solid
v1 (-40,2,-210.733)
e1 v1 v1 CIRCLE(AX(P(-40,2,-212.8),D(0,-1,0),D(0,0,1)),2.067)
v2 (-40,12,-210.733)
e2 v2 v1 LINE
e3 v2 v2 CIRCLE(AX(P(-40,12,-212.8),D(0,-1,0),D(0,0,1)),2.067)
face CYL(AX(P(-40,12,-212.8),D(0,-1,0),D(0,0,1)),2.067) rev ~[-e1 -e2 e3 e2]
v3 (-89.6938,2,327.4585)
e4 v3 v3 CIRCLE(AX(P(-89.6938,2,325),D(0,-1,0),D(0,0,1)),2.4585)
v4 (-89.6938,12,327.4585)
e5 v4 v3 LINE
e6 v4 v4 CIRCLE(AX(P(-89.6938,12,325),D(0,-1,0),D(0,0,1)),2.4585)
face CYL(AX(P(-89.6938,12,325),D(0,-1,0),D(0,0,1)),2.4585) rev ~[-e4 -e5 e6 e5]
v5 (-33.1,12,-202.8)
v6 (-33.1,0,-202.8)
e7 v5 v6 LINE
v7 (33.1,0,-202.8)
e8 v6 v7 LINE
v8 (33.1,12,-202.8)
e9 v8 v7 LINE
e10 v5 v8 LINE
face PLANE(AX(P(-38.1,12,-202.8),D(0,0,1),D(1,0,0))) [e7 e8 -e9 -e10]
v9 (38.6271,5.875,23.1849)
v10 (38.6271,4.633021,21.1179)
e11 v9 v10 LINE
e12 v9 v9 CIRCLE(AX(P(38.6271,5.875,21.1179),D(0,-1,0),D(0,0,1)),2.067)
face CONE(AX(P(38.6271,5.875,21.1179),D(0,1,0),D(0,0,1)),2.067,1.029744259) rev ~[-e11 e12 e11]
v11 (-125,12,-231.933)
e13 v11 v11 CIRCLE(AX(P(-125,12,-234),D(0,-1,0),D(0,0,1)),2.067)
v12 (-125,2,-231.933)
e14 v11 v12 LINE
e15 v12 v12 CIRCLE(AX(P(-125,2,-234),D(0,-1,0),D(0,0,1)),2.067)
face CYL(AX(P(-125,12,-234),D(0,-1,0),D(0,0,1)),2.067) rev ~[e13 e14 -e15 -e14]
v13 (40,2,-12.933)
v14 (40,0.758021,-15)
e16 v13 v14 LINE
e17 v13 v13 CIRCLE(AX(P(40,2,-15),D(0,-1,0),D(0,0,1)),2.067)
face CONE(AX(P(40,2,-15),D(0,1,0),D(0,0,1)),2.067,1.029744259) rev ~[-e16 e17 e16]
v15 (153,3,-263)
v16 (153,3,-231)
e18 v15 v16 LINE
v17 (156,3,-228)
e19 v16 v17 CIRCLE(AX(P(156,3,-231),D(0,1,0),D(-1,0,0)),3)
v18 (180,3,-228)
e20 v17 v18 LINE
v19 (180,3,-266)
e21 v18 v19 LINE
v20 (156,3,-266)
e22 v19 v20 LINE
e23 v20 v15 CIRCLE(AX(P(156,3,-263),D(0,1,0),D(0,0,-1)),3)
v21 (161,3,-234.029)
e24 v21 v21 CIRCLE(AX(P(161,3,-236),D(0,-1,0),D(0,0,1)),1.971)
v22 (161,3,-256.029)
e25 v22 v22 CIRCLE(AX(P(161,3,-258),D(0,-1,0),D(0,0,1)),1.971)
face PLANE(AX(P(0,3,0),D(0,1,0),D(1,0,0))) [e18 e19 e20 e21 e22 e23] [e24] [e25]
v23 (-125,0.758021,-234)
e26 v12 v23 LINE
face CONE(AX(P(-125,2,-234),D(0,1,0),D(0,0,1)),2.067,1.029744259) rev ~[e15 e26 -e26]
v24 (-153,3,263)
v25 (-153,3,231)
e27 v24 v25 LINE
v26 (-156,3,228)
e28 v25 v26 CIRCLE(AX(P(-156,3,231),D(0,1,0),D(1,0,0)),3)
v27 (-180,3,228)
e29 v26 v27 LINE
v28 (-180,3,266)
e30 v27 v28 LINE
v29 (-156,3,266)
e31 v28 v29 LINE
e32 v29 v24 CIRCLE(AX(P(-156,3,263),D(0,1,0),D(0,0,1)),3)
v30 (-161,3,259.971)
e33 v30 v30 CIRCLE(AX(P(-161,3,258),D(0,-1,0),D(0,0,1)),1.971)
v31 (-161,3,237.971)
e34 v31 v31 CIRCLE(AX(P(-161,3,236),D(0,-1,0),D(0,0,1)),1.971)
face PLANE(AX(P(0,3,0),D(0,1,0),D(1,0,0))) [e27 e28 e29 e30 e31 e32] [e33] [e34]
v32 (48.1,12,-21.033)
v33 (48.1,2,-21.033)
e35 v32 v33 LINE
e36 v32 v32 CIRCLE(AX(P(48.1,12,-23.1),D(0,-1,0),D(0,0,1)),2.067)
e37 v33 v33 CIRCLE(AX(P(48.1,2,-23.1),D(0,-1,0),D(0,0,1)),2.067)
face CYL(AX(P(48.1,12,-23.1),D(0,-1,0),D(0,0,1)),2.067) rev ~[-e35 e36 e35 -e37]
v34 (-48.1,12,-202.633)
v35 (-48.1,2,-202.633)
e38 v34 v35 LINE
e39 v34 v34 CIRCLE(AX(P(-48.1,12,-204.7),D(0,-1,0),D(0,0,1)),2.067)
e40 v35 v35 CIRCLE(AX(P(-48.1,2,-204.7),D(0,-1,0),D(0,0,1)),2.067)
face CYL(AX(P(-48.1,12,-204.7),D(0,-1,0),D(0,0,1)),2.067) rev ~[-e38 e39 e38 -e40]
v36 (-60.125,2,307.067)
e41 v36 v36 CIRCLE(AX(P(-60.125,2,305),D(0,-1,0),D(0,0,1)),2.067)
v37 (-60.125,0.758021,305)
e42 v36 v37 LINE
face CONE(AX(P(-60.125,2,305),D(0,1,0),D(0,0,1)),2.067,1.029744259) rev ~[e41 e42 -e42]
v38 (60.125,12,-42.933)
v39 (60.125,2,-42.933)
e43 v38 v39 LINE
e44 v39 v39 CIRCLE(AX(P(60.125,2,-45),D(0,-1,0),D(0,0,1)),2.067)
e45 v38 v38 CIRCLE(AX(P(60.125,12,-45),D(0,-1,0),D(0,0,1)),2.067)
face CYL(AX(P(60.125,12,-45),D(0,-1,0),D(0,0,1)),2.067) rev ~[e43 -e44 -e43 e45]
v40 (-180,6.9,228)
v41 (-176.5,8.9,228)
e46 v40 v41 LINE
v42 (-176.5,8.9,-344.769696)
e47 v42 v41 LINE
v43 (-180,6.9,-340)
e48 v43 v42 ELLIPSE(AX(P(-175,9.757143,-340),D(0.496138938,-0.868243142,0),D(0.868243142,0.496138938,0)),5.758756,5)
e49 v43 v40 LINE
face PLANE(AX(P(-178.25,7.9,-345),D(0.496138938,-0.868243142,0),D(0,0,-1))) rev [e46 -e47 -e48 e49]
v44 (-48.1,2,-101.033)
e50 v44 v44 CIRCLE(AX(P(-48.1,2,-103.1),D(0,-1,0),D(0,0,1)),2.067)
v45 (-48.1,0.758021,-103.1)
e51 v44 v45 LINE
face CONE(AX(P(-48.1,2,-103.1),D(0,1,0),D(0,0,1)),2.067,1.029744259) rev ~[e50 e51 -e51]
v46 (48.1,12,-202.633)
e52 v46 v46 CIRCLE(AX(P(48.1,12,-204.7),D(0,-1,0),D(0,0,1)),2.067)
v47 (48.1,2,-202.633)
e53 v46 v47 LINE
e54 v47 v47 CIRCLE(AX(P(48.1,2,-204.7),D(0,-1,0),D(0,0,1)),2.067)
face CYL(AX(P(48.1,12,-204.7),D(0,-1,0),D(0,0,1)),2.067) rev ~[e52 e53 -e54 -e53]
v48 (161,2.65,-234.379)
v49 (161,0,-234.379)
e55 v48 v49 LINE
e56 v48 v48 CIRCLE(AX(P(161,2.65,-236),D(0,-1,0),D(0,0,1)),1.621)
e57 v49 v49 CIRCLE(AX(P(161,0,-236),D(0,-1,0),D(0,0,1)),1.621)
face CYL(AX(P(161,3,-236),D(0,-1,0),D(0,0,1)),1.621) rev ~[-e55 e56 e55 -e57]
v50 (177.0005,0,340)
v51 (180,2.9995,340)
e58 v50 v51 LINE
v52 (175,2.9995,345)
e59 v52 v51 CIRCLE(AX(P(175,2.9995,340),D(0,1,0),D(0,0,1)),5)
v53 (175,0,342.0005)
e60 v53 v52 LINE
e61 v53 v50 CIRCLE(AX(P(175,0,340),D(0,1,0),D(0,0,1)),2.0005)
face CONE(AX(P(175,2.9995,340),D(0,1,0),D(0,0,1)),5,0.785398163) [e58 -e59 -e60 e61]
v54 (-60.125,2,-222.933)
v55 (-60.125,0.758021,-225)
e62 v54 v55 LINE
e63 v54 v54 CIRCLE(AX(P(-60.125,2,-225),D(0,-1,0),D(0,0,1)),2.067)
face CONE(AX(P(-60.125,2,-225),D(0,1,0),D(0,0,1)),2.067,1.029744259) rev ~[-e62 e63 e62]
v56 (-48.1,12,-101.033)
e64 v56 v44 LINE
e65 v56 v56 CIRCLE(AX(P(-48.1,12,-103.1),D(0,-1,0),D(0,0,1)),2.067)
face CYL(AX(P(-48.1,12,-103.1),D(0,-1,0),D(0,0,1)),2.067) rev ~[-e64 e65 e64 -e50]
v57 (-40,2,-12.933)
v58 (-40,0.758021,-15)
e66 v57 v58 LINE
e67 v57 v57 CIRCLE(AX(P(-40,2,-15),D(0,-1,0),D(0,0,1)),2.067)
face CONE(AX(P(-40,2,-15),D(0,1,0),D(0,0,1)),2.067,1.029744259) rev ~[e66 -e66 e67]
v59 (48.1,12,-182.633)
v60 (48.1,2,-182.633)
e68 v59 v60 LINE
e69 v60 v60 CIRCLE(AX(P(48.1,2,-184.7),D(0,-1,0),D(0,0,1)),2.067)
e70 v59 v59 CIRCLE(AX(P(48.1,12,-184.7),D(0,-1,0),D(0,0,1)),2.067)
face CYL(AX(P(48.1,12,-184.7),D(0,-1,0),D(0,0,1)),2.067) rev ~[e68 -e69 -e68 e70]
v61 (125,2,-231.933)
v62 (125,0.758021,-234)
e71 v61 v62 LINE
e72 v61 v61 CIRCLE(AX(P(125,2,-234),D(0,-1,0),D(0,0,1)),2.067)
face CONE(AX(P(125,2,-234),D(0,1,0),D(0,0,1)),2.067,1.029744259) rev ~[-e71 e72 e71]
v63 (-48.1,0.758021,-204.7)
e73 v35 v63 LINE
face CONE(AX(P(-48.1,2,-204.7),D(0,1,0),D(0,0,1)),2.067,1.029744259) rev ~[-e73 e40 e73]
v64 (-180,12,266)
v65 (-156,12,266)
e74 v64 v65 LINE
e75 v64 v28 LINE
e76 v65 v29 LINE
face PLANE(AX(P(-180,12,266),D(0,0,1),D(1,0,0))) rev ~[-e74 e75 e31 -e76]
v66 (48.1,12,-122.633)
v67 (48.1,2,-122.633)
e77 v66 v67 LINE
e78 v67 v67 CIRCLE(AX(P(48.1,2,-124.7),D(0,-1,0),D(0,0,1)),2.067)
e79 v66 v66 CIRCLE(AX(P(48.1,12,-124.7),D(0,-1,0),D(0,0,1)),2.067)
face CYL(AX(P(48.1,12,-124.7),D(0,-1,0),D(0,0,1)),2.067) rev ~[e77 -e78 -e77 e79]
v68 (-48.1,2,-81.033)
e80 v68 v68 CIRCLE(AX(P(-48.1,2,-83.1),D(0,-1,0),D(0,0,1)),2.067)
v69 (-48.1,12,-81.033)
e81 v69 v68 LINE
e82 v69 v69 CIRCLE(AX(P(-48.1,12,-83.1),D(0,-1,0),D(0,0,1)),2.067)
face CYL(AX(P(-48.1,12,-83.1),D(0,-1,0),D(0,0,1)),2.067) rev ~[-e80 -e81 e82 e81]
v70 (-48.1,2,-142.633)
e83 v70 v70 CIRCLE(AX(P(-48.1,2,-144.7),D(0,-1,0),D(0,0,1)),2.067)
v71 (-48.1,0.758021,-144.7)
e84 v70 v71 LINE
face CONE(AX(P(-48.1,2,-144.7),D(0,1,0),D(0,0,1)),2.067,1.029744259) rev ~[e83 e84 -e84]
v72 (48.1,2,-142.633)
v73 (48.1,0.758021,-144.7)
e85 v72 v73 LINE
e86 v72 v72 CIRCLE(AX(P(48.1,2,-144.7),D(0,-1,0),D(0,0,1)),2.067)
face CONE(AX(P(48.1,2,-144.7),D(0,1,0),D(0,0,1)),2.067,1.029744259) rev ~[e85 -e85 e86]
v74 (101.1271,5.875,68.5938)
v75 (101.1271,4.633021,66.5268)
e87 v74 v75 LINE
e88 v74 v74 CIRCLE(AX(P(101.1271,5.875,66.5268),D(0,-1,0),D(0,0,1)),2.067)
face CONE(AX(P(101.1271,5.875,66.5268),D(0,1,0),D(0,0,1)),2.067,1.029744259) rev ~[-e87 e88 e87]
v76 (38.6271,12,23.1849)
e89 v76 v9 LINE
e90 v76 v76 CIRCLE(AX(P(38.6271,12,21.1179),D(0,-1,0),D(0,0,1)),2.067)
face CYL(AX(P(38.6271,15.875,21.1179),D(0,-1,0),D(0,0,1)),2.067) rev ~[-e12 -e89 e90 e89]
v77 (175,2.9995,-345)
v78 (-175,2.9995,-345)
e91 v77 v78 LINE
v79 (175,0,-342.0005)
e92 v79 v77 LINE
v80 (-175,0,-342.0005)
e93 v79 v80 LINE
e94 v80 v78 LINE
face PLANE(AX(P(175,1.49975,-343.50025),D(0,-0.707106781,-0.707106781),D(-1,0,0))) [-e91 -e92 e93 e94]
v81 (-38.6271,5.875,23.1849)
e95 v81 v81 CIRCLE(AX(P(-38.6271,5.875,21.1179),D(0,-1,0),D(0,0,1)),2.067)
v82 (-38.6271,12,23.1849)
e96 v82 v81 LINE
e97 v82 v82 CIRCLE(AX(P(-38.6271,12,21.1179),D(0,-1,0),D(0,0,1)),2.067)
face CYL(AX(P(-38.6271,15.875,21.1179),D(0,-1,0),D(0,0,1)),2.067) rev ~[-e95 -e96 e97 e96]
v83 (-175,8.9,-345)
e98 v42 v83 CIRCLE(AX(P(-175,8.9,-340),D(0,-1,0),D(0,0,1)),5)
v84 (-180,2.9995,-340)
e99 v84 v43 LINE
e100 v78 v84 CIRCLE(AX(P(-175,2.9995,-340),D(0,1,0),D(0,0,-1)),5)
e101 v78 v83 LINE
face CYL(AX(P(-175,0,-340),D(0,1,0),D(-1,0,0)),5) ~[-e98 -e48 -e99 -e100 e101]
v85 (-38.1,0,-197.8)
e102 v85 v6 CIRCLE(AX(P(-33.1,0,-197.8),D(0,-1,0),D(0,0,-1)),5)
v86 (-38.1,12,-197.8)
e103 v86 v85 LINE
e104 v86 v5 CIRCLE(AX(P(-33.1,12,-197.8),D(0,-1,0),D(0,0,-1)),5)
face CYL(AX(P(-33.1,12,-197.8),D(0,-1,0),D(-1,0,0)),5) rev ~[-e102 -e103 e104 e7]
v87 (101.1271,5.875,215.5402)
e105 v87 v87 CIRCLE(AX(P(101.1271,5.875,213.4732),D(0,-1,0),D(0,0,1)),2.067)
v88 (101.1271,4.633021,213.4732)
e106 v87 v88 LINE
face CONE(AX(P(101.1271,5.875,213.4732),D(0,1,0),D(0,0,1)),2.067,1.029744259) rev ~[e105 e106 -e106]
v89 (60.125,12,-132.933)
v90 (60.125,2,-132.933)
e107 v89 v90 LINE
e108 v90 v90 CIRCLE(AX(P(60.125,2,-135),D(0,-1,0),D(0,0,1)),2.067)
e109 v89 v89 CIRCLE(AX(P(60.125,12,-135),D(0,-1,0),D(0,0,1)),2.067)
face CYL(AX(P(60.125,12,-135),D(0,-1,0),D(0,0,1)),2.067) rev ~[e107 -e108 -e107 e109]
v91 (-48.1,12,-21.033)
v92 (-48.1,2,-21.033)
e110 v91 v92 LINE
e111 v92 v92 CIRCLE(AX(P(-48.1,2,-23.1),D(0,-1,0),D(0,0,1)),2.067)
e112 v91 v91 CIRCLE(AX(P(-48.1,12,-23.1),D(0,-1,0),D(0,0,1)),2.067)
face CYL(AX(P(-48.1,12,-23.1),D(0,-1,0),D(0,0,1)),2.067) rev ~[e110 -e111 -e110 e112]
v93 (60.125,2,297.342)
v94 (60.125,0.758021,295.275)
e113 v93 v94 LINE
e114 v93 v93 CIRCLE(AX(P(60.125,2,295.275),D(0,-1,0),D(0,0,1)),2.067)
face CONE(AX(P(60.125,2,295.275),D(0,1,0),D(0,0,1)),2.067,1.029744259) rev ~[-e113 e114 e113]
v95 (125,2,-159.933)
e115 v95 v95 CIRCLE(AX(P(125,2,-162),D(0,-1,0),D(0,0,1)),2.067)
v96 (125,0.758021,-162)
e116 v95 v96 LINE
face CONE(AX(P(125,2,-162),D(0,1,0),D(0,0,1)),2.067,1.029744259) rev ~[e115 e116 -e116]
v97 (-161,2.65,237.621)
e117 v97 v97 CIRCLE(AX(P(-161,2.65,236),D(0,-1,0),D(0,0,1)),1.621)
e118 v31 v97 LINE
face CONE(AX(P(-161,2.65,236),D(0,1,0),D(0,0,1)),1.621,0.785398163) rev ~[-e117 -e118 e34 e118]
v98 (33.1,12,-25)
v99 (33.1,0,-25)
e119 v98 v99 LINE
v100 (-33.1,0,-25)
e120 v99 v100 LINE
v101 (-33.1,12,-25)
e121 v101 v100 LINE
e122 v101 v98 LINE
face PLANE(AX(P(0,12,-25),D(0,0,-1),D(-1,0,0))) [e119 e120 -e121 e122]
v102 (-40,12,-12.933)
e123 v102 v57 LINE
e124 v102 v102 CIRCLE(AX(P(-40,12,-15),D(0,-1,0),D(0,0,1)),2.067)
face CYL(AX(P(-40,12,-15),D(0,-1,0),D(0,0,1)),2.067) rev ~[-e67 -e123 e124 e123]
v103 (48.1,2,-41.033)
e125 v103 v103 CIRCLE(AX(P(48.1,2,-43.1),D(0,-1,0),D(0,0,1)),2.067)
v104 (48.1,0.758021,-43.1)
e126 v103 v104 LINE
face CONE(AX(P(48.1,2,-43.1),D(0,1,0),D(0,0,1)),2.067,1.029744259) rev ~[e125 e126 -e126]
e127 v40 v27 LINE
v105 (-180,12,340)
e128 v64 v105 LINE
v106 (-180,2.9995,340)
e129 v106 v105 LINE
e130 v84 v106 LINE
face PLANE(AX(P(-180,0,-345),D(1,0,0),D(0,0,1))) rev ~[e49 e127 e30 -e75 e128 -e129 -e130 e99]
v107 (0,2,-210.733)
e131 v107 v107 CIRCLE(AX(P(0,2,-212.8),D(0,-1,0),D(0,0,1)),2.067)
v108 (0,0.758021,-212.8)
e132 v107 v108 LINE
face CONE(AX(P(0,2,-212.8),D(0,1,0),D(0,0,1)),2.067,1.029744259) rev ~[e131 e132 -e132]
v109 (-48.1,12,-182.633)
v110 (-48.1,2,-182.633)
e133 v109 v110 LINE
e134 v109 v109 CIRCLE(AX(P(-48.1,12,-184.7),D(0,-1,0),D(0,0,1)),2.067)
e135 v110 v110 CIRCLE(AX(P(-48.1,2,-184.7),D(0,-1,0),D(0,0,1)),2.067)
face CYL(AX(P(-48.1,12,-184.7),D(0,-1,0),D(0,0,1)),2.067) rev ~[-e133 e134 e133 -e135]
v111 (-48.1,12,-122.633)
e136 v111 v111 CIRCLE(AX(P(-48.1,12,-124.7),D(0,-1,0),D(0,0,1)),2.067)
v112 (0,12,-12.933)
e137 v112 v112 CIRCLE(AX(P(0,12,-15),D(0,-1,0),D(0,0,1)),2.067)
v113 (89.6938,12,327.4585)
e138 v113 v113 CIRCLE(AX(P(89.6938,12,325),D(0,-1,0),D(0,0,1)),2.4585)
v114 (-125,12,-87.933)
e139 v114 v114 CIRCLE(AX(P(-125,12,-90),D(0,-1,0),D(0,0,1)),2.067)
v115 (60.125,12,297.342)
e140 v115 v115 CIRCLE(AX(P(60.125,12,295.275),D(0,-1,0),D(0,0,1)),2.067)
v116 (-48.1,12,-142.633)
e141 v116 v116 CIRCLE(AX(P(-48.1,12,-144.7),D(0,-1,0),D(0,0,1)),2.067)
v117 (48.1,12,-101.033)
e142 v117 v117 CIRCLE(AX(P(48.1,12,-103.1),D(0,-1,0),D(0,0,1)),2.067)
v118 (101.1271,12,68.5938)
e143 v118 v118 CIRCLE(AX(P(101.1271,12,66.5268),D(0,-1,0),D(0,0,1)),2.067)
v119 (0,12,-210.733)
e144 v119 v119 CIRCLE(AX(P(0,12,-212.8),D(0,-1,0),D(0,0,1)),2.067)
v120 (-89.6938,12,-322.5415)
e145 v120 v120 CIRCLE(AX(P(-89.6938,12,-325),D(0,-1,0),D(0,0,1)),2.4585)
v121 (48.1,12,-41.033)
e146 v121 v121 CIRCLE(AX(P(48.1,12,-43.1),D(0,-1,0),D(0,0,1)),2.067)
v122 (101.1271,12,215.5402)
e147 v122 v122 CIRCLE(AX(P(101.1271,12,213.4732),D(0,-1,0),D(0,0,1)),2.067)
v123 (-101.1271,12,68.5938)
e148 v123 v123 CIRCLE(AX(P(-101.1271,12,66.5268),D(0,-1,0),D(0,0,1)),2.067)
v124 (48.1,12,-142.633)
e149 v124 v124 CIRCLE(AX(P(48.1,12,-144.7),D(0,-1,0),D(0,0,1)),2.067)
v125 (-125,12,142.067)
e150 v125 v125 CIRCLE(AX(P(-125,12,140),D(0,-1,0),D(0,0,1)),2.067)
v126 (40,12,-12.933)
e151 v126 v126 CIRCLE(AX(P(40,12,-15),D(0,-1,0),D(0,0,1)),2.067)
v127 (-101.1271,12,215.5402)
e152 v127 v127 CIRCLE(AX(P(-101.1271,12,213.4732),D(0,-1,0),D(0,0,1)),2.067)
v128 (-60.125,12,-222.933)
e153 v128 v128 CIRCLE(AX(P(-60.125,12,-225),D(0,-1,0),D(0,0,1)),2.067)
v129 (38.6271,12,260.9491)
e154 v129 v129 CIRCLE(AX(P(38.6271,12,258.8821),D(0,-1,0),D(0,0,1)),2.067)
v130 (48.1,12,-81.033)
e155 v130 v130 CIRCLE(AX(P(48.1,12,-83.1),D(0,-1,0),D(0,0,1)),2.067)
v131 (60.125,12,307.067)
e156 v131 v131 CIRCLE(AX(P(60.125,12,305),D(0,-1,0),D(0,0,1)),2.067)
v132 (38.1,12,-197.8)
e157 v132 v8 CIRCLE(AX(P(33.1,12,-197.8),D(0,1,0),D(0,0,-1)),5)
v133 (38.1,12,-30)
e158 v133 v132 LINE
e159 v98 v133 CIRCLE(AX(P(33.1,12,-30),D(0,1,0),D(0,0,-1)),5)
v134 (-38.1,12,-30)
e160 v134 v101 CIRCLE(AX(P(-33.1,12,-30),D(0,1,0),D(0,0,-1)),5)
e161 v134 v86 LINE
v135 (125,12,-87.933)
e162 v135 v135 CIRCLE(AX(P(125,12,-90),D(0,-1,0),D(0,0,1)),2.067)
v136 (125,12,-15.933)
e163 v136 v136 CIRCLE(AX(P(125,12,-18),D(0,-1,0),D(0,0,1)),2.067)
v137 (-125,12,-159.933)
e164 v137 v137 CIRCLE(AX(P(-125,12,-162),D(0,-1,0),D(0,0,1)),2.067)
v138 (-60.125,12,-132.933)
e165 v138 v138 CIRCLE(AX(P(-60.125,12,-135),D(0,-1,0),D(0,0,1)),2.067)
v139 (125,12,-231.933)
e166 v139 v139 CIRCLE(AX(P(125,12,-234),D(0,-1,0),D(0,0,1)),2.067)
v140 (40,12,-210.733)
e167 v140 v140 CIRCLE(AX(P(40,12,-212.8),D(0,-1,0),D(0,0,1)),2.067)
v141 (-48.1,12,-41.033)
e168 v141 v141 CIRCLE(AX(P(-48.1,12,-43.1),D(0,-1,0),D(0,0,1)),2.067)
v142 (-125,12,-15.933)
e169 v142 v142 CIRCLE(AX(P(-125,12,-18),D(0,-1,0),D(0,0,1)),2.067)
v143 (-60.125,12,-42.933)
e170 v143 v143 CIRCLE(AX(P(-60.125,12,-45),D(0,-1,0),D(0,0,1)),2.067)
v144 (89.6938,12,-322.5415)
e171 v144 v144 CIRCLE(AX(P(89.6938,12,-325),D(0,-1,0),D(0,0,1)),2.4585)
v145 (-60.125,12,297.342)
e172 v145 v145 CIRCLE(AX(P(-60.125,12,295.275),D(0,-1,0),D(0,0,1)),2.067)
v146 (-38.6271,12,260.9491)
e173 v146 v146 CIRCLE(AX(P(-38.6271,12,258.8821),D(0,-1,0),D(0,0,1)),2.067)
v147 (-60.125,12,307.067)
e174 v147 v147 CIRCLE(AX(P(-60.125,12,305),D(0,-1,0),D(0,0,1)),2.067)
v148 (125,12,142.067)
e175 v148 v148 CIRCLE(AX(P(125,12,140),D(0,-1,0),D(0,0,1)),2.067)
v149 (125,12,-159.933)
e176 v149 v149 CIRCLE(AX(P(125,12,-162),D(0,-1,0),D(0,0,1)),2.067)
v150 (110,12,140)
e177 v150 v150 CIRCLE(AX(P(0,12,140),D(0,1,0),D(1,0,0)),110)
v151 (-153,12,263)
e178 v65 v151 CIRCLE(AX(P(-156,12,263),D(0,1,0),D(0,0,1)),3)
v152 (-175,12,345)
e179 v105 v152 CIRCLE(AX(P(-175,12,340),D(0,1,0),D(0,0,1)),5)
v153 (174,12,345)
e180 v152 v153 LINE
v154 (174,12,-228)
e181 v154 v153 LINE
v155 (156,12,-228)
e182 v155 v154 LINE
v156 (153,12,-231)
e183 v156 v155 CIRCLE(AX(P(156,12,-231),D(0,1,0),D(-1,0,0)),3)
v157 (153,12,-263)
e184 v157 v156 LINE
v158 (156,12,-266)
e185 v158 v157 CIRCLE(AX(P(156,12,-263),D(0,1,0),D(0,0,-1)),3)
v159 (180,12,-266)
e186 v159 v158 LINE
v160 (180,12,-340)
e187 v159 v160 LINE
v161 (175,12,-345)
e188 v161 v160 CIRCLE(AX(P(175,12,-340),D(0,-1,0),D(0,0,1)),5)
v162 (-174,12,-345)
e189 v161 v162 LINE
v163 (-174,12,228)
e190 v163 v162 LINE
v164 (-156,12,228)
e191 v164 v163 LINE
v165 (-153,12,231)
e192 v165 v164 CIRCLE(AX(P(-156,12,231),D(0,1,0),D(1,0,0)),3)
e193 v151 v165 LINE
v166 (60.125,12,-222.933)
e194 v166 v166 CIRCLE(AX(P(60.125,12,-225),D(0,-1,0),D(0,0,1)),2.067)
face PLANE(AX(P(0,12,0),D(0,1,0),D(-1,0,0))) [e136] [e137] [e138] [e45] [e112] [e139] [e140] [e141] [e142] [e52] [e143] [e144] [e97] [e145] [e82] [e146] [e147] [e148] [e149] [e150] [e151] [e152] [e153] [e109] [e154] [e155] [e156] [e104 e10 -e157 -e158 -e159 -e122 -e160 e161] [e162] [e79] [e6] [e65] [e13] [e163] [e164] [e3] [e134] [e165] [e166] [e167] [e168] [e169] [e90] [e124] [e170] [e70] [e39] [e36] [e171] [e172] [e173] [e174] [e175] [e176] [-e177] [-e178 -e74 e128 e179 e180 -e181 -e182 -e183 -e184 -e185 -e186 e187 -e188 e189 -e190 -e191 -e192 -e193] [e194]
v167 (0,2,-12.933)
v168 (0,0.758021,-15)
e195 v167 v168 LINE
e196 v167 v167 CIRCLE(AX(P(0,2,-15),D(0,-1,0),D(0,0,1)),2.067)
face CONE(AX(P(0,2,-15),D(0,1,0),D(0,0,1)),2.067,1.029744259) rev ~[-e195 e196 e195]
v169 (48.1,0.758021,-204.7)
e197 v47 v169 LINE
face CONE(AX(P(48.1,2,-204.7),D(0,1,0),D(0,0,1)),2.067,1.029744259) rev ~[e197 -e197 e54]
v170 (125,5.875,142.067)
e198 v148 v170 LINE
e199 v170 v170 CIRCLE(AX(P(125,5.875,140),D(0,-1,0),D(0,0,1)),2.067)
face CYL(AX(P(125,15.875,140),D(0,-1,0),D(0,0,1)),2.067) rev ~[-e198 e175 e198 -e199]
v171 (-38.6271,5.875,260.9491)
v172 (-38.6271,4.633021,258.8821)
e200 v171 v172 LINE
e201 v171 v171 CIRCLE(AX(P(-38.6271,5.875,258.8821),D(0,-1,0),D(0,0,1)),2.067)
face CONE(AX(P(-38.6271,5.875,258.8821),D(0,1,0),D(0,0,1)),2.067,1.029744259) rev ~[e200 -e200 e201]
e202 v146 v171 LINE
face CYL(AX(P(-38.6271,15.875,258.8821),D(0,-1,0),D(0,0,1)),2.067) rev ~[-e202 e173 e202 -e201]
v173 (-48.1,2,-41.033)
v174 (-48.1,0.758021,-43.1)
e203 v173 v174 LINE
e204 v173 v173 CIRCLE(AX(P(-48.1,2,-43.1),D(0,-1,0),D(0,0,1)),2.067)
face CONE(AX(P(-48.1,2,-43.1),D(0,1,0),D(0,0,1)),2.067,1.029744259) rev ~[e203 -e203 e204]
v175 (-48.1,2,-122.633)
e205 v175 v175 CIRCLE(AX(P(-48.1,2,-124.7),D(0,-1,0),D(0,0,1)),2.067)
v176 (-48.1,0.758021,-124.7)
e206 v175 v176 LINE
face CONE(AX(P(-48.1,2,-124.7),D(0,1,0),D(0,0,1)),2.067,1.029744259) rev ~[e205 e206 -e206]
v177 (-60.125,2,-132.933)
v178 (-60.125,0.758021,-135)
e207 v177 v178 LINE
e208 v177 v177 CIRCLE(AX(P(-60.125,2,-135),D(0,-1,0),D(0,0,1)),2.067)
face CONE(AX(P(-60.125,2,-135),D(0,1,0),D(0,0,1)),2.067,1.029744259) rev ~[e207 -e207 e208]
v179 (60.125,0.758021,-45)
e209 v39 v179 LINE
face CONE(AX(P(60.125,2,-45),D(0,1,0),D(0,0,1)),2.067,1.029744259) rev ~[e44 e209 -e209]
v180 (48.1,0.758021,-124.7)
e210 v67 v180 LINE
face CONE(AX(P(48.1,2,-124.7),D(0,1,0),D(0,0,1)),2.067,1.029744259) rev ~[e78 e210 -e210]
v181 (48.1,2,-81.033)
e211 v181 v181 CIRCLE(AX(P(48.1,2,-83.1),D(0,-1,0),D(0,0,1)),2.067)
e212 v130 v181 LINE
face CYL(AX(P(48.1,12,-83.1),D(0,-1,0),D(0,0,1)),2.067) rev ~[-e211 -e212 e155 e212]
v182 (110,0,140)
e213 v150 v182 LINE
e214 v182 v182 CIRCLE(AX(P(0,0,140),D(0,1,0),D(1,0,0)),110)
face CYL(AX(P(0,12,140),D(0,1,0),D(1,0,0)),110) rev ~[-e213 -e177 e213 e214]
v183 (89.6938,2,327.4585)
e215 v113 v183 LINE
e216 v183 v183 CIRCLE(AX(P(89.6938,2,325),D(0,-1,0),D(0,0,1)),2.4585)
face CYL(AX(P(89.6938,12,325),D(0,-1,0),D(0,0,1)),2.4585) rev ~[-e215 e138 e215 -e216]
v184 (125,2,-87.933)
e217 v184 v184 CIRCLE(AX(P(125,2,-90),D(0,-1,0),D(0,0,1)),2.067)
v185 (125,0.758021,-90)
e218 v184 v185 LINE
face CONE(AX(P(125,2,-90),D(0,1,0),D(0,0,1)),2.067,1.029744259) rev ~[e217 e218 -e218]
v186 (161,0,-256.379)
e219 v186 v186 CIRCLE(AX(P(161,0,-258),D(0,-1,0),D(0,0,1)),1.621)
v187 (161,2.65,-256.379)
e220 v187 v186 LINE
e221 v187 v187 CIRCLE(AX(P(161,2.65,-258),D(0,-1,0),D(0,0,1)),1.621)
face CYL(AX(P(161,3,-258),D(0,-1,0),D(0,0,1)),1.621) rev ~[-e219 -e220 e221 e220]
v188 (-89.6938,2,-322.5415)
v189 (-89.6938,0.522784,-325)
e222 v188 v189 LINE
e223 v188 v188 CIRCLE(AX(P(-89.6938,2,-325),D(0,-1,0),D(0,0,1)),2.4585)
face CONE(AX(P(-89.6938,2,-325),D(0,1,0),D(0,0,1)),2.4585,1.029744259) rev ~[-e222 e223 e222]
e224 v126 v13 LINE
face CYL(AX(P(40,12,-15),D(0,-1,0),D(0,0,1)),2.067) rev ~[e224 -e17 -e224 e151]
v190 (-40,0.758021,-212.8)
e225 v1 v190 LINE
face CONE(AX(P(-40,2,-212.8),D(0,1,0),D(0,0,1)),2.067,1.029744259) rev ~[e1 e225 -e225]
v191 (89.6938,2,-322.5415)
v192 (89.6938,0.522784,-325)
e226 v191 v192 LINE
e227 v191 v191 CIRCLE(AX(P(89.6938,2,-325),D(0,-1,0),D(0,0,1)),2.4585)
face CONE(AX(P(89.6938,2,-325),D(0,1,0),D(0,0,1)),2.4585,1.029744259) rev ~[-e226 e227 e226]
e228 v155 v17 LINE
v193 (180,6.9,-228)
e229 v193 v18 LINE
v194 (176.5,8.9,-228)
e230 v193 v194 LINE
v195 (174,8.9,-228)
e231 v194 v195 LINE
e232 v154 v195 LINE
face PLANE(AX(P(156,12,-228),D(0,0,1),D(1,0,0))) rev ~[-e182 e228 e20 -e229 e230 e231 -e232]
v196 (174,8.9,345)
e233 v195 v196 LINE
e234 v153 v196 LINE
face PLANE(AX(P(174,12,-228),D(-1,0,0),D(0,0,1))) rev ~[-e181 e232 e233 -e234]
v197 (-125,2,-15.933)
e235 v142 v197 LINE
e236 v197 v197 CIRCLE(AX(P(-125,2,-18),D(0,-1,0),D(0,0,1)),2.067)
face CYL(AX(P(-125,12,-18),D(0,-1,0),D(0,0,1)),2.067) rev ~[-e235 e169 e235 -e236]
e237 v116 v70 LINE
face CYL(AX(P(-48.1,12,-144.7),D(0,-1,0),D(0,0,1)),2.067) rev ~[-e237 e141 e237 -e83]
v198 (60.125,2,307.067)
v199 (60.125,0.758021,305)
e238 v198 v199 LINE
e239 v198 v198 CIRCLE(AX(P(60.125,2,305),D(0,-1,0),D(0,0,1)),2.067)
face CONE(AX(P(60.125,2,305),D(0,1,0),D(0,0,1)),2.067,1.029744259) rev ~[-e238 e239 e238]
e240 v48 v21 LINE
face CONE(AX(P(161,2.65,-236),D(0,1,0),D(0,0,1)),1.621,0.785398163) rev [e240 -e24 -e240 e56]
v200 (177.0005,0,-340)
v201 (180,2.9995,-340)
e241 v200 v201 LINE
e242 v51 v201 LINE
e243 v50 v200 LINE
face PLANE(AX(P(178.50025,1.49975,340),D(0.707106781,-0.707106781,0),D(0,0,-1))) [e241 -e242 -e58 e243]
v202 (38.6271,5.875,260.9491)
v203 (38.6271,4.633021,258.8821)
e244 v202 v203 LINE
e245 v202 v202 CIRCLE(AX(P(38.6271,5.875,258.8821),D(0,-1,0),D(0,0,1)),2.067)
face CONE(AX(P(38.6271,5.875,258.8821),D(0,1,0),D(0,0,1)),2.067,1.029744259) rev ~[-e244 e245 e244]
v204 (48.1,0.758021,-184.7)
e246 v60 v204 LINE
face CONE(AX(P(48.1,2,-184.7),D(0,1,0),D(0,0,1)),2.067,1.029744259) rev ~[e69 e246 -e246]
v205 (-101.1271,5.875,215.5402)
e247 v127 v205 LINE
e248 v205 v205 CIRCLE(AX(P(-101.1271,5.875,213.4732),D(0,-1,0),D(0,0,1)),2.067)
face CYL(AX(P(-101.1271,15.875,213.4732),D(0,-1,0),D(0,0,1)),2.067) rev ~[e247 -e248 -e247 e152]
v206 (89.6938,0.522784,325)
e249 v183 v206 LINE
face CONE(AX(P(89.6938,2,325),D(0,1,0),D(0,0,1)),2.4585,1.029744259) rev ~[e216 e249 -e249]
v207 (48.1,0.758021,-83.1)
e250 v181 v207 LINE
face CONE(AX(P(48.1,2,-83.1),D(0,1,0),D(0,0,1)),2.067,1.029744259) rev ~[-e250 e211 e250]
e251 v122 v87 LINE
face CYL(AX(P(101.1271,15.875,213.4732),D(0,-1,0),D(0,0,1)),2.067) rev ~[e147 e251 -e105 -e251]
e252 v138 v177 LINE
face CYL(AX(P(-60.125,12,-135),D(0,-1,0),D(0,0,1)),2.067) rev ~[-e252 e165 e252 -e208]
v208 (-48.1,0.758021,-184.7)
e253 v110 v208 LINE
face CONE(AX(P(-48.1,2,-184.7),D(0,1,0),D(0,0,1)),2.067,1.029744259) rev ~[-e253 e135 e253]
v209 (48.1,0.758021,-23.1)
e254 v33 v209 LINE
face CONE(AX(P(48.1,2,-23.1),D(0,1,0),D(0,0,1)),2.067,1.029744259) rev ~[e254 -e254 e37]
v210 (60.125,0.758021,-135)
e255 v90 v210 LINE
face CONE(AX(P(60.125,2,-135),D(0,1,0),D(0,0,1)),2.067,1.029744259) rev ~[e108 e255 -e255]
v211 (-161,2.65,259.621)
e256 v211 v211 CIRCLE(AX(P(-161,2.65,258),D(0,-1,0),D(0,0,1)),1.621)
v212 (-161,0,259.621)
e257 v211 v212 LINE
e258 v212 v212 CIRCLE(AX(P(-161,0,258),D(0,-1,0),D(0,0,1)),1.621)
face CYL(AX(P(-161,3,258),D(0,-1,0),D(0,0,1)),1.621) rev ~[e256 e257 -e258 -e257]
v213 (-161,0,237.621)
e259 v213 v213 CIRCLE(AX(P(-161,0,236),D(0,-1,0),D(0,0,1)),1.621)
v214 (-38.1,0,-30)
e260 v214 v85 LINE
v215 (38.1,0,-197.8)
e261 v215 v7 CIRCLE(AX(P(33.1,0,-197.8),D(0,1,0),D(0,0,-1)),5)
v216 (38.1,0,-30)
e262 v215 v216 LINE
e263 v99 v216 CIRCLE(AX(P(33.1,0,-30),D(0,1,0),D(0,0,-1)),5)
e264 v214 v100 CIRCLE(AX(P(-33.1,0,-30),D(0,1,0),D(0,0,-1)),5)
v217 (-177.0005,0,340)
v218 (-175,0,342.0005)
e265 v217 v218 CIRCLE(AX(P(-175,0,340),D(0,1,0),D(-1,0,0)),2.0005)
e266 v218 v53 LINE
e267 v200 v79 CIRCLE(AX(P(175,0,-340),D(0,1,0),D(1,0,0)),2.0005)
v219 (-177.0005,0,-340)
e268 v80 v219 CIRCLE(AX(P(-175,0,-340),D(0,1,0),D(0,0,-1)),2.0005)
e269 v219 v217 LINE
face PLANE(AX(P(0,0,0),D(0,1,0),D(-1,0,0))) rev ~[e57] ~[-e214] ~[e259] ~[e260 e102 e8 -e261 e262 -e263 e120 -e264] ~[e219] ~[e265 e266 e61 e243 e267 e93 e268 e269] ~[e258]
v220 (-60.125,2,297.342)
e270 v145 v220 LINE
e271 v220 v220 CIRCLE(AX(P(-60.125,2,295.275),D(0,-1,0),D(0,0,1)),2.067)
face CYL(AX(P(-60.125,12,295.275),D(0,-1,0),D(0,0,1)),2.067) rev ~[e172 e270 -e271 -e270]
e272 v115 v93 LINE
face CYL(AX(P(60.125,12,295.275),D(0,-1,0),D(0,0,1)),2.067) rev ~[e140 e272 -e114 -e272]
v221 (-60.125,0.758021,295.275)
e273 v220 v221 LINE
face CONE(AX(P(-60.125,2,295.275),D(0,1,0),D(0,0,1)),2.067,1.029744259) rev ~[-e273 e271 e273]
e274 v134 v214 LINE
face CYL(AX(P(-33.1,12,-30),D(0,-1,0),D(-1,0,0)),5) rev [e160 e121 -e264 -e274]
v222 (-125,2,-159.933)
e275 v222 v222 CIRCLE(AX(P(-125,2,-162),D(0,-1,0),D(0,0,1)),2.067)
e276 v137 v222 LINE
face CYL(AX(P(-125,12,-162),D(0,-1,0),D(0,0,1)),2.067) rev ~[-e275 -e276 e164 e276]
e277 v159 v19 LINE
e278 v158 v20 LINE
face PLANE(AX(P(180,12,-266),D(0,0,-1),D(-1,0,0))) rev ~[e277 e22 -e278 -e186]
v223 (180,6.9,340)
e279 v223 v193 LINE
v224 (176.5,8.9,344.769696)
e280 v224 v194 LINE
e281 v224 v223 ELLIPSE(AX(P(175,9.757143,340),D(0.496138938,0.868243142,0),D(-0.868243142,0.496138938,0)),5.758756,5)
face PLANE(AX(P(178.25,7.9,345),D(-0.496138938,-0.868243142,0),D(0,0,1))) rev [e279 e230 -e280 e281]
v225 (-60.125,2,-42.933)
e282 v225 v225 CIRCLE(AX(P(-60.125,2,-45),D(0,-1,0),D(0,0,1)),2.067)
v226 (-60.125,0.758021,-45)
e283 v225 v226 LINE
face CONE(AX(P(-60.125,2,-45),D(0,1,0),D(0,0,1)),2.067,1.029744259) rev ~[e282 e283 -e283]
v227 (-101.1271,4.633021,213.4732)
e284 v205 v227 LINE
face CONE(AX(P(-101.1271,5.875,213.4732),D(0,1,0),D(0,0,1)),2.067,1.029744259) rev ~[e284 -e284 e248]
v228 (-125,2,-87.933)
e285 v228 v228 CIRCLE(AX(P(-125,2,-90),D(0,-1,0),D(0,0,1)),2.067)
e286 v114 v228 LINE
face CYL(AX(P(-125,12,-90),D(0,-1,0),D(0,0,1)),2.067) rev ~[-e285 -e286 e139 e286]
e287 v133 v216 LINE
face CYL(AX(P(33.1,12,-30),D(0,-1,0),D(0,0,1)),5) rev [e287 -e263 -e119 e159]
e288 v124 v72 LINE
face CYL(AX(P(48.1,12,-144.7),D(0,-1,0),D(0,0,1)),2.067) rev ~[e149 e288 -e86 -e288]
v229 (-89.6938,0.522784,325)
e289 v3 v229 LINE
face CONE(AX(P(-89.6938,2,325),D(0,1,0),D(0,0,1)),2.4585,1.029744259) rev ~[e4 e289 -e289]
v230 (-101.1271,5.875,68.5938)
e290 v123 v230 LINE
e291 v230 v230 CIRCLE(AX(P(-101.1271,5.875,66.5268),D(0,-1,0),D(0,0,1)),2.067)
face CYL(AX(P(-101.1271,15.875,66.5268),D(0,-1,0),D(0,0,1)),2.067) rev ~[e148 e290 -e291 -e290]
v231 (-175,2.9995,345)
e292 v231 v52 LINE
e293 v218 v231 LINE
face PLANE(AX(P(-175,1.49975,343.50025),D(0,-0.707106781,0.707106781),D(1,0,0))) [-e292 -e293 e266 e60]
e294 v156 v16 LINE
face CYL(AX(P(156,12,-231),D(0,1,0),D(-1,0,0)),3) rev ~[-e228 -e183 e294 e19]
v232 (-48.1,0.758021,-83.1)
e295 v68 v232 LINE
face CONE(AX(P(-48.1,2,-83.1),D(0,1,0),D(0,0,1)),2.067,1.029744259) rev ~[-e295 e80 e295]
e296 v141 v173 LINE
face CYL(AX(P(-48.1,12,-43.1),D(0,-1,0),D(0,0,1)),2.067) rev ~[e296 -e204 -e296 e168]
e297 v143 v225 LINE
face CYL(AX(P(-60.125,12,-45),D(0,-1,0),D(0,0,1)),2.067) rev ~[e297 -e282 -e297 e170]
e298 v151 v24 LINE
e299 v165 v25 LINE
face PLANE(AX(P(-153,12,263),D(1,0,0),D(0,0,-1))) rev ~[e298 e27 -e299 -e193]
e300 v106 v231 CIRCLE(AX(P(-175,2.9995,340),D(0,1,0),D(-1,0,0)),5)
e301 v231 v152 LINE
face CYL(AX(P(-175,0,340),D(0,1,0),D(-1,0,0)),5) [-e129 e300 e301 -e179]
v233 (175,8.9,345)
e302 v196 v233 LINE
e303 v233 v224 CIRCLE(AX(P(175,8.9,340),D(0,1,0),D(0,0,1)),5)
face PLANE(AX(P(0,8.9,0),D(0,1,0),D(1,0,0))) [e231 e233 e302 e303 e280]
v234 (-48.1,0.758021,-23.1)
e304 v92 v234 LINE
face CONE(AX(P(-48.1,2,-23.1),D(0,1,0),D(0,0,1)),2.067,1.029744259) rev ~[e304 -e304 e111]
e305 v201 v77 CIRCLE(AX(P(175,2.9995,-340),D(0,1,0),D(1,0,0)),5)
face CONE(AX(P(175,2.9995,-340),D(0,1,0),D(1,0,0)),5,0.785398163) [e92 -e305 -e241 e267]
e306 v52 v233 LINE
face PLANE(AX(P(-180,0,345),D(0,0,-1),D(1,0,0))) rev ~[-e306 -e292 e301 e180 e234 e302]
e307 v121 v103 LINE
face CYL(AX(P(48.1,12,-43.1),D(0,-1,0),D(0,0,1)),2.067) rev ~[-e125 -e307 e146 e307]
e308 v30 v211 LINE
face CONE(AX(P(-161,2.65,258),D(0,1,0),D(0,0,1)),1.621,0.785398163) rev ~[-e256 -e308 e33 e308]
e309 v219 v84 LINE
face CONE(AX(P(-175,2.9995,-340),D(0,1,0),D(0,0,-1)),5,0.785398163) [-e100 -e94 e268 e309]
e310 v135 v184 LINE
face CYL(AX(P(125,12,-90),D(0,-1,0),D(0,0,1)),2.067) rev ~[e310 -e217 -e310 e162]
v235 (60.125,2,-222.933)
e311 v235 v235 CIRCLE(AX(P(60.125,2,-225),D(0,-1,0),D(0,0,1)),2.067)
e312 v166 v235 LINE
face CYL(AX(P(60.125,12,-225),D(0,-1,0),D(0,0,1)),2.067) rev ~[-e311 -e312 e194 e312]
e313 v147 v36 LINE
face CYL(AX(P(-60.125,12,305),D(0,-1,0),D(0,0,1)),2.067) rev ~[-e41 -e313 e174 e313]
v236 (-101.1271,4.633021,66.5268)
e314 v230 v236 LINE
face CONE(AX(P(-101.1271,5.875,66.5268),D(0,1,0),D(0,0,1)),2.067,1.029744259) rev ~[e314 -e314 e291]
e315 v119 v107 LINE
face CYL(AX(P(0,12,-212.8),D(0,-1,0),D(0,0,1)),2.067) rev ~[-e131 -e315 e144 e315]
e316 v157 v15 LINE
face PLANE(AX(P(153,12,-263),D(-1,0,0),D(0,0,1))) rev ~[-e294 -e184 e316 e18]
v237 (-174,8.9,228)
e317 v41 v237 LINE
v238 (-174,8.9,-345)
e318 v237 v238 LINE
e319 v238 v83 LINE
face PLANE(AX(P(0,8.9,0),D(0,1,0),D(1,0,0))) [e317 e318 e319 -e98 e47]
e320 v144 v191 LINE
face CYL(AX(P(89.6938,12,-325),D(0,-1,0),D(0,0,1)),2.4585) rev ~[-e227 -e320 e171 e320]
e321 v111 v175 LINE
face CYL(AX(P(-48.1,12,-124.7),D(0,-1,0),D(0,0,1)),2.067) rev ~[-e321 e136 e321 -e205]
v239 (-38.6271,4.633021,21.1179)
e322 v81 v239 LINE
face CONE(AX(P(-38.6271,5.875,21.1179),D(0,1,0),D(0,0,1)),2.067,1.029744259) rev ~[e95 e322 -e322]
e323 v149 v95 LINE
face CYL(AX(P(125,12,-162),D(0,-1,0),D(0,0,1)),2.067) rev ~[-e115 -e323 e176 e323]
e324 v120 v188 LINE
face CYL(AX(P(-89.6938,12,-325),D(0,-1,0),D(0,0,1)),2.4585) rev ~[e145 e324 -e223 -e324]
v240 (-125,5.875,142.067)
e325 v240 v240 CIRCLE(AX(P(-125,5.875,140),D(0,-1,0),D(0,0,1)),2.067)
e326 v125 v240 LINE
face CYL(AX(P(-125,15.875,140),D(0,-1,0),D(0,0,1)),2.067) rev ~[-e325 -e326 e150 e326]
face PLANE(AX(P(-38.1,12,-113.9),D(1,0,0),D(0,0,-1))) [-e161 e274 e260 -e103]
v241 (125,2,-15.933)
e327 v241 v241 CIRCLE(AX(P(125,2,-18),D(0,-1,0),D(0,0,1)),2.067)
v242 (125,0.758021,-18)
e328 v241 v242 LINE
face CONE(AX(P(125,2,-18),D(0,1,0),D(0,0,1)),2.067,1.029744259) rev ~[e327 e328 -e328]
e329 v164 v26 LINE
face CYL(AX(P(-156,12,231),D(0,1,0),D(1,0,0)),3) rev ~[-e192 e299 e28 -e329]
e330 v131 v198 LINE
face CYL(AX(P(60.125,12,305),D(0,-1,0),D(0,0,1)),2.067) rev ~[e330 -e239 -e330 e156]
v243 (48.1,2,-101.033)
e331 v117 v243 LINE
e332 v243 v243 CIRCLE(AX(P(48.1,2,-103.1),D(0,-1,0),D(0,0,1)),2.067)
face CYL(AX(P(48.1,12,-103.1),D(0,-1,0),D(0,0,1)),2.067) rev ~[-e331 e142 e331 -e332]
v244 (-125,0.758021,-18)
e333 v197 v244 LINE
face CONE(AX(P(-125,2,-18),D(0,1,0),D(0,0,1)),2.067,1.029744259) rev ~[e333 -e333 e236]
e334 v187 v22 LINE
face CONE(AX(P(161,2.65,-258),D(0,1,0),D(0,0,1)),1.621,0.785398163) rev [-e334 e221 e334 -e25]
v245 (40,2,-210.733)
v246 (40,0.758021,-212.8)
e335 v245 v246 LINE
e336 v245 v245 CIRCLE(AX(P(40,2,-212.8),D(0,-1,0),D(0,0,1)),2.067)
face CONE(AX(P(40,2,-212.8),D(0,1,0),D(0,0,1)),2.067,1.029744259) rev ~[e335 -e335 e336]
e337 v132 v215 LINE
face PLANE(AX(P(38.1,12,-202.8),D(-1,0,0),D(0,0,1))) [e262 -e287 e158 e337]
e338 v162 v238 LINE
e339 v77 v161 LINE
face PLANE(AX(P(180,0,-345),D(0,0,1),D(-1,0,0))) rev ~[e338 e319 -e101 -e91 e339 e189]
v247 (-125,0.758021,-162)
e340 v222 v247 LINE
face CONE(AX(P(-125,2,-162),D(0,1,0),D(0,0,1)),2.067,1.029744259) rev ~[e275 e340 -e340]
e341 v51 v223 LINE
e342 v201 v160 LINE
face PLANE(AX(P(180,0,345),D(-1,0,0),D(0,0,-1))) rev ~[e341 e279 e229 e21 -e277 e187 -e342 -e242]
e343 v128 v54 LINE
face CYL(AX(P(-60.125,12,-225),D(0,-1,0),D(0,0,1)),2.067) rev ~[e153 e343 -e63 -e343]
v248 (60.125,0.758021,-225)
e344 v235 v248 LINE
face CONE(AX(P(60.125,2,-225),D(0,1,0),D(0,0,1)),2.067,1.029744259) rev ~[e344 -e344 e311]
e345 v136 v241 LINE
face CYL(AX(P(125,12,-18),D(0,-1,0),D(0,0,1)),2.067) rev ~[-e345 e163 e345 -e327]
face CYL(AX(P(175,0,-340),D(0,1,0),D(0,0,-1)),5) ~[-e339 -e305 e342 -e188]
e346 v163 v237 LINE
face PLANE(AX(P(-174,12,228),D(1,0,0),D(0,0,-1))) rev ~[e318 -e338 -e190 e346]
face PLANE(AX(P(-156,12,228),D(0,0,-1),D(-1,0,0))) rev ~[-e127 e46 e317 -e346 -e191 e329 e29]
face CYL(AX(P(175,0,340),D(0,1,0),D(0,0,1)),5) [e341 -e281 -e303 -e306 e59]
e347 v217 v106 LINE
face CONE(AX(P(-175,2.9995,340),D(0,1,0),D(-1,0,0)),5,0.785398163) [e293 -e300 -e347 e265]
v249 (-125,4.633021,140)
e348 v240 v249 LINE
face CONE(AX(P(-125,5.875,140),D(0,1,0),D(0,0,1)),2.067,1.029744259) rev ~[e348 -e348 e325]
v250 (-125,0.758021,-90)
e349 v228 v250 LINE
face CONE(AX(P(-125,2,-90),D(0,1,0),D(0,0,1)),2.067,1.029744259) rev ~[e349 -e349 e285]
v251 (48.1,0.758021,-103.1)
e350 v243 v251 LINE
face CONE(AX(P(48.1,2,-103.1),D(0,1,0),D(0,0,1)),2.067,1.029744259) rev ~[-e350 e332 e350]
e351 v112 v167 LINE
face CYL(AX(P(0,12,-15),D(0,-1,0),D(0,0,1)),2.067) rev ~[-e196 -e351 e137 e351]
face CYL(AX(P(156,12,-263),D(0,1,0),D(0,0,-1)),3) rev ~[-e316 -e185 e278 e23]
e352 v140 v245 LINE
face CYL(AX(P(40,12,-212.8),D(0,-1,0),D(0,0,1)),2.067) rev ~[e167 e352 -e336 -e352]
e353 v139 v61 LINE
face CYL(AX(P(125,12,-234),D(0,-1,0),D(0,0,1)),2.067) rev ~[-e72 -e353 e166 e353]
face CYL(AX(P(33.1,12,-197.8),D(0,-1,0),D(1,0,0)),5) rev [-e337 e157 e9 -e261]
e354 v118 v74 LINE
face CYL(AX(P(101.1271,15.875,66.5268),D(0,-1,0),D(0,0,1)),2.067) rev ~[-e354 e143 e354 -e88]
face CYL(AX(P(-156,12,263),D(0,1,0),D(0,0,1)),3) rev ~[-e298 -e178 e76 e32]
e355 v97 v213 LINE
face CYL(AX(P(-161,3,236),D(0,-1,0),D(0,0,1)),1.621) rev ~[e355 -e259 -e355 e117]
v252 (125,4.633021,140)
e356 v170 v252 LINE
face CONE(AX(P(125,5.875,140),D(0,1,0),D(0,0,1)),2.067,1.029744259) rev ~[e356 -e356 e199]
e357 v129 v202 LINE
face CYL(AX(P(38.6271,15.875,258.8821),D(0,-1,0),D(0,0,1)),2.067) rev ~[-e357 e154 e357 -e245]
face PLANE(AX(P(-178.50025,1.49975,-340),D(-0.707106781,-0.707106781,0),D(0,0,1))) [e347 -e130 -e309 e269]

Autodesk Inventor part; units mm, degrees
ref_plane "YZ Plane" through (0, 0, 0) normal (1, 0, 0) x (0, 1, 0)
sketch "Sketch1" plane through (0, 0, 0) normal (0, 1, 0) x (-1, 0, 0)
  line L0 (180, 345) -> (-180, 345)
  line L1 (-180, 345) -> (-180, -345)
  line L2 (-180, -345) -> (180, -345)
  line L3 (180, -345) -> (180, 345)
  line L4 (180, 345) -> (-180, -345) construction
  line L5 (-180, 345) -> (180, -345) construction
  point P0 (0, 0)
  dimension "d0" = 360
  dimension "d1" = 690
extrude "Extrusion1" add sketch "Sketch1" along normal blind 12
sketch "Sketch2" plane through (0, 12, 0) normal (0, 1, 0) x (1, 0, 0)
  circle A0 centre (0, -140) radius 110
  line L0 (-180, -345) -> (180, -345) projected
  circle A1 centre (0, -140) radius 135
  point P0 (0, 0)
  dimension "d4" = 205
  dimension "d5" = 220
  dimension "d8" = 270
extrude "Extrusion2" cut sketch "Sketch2" against normal through all contours A0
ref_plane "Work Plane1" through (0, 0, 150) normal (0, 0, 1) x (1, 0, 0)
sketch "Sketch6" plane through (0, 12, 0) normal (0, 1, 0) x (1, 0, 0)
  line L0 (89.6938, -325) -> (-89.6938, -325)
  line L1 (-89.6938, -325) -> (-89.6938, 325)
  line L2 (-89.6938, 325) -> (89.6938, 325)
  line L3 (89.6938, 325) -> (89.6938, -325)
  line L4 (89.6938, -325) -> (-89.6938, 325) construction
  line L5 (-89.6938, -325) -> (89.6938, 325) construction
  point P0 (0, 0)
  dimension "d55" = 179.3875
  dimension "d56" = 650
hole "Hole3" at (89.6938, 12, 325) at (-89.6938, 12, 325) at (-89.6938, 12, -325) at (89.6938, 12, -325) direction (0, -1, 0) diameter 4.917 depth 10 tip angle 118 thread size "M6x1" class "6H" standard "ANSI Metric M Profile"
sketch "Sketch7" plane through (0, 12, 0) normal (0, 1, 0) x (1, 0, 0)
  circle A0 centre (0, -140) radius 110 projected
  circle A1 centre (0, -140) radius 131.5
  circle A2 centre (0, -140) radius 135
  point P0 (0, 0)
  dimension "d64" = 263
  dimension "d65" = 270
ref_plane "Work Plane2" through (0, 15.875, 140) normal (0, 1, 0) x (1, 0, 0)
sketch "Sketch8" plane through (0, 15.875, 140) normal (0, 1, 0) x (1, 0, 0)
  circle A0 centre (0, 0) radius 131.5 projected
  circle A1 centre (0, 0) radius 125
  circle A2 centre (125, 0) radius 2
  circle A3 centre (101.1271, 73.4732) radius 2
  circle A4 centre (38.6271, 118.8821) radius 2
  circle A5 centre (-38.6271, 118.8821) radius 2
  circle A6 centre (-101.1271, 73.4732) radius 2
  circle A7 centre (-125, 0) radius 2
  circle A8 centre (-101.1271, -73.4732) radius 2
  circle A9 centre (-38.6271, -118.8821) radius 2
  circle A10 centre (38.6271, -118.8821) radius 2
  circle A11 centre (101.1271, -73.4732) radius 2
  point P0 (0, 140)
  dimension "d68" = 250
  dimension "d69" = 4
  dimension "d72" = 360
hole "Hole4" at (125, 15.875, 140) at (101.1271, 15.875, 213.4732) at (38.6271, 15.875, 258.8821) at (-38.6271, 15.875, 258.8821) at (-101.1271, 15.875, 213.4732) at (-125, 15.875, 140) at (-101.1271, 15.875, 66.5268) at (-38.6271, 15.875, 21.1179) at (38.6271, 15.875, 21.1179) at (101.1271, 15.875, 66.5268) direction (0, -1, 0) diameter 4.134 depth 10 tip angle 118 thread size "M5x0.8" class "6H" standard "ANSI Metric M Profile"
sketch "Sketch9" plane through (0, 12, 0) normal (0, 1, 0) x (1, 0, 0)
  line L0 (180, -345) -> (180, 345) projected
  line L1 (180, 266) -> (156, 266)
  line L2 (153, 263) -> (153, 231)
  line L3 (156, 228) -> (180, 228)
  line L4 (180, 228) -> (180, 266)
  line L5 (-180, 345) -> (-180, -345) projected
  line L6 (-180, -266) -> (-156, -266)
  line L7 (-153, -263) -> (-153, -231)
  line L8 (-156, -228) -> (-180, -228)
  line L9 (-180, -228) -> (-180, -266)
  line L10 (180, 345) -> (-180, 345) projected
  line L11 (-180, -345) -> (180, -345) projected
  arc A0 (153, 231) -> (156, 228) centre (156, 231) ccw
  arc A1 (156, 266) -> (153, 263) centre (156, 263) ccw
  arc A2 (-156, -266) -> (-153, -263) centre (-156, -263) ccw
  arc A3 (-153, -231) -> (-156, -228) centre (-156, -231) ccw
  point P0 (0, 0)
  point P1 (153, 228)
  point P2 (153, 266)
  point P3 (-153, -228)
  point P4 (-153, -266)
  dimension "d82" = 27
  dimension "d83" = 27
  dimension "d84" = 38
  dimension "d85" = 38
  dimension "d86" = 79
  dimension "d87" = 79
  dimension "d95" = 3
  dimension "d96" = 3
fillet "Fillet2" radius 5 2 edges at (180, 6, -345) (-180, 6, 345)
extrude "Extrusion7" cut sketch "Sketch9" against normal blind 9 contours L3 A0 L2 A1 L1 L0 | L5 L8 A3 L7 A2 L6
sketch "Sketch10" plane through (0, 12, 0) normal (0, 1, 0) x (1, 0, 0)
  line L0 (175, 345) -> (-180, 345) projected
  line L1 (-180, -228) -> (-174, -228)
  line L2 (-174, -228) -> (-174, 345)
  line L3 (-174, 345) -> (-180, 345)
  line L4 (-180, 345) -> (-180, -228)
  line L5 (180, 228) -> (156, 228) projected
  line L6 (-175, -345) -> (180, -345) projected
  line L7 (180, 228) -> (174, 228)
  line L8 (174, 228) -> (174, -345)
  line L9 (174, -345) -> (180, -345)
  line L10 (180, -345) -> (180, 228)
  point P0 (0, 0)
  point P1 (180, -345)
  point P2 (179.925, 228)
  dimension "d99" = 6
  dimension "d100" = 6
extrude "Extrusion8" cut sketch "Sketch10" against normal blind 3.1
chamfer "Chamfer3" distance 2 distance2 3.5 1 edges at (180, 8.9, 58.5) measured on face at (180, 3.9667, 154)
chamfer "Chamfer4" distance 2 distance2 3.5 1 edges at (-180, 8.9, -58.5) measured on face at (-180, 3.9667, -154)
sketch "Sketch11" plane through (0, 3, 0) normal (0, 1, 0) x (1, 0, 0)
  circle A0 centre (-161, -236) radius 1.65
  circle A1 centre (-161, -258) radius 1.65
  circle A2 centre (161, 258) radius 1.65
  circle A3 centre (161, 236) radius 1.65
  line L0 (-156, -266) -> (-180, -266) projected
  line L1 (174, 228) -> (156, 228) projected
  point P0 (0, 0)
  dimension "d110" = 8
  dimension "d111" = 22
  dimension "d113" = 3.3
  dimension "d114" = 3.3
  dimension "d115" = 3.3
  dimension "d116" = 3.3
  dimension "d118" = 8
  dimension "d119" = 22
hole "Hole5" at (-161, 3, 258) at (-161, 3, 236) at (161, 3, -236) at (161, 3, -258) direction (0, -1, 0) diameter 3.242 end through all thread size "M4x0.7" class "6H" standard "ANSI Metric M Profile"
chamfer "Chamfer5" distance 0.35 angle 45 4 edges at (-161, 3, 256.379) (-161, 3, 234.379) (161, 3, -259.621) (161, 3, -237.621)
sketch "Sketch12" plane through (0, 12, 0) normal (0, 1, 0) x (1, 0, 0)
  line L0 (50.125, 342.5) -> (-50.125, 342.5)
  line L1 (-50.125, 342.5) -> (-50.125, -342.5)
  line L2 (-50.125, -342.5) -> (50.125, -342.5)
  line L3 (50.125, -342.5) -> (50.125, 342.5)
  line L4 (50.125, 342.5) -> (-50.125, -342.5) construction
  line L5 (-50.125, 342.5) -> (50.125, -342.5) construction
  line L6 (-70.125, -362.5) -> (-70.125, 362.5)
  line L7 (-70.125, 362.5) -> (70.125, 362.5)
  line L8 (70.125, 362.5) -> (70.125, -362.5)
  line L9 (70.125, -362.5) -> (-70.125, -362.5)
  line L10 (-60.125, -352.5) -> (-60.125, 352.5)
  line L11 (-60.125, 352.5) -> (60.125, 352.5)
  line L12 (60.125, 352.5) -> (60.125, -352.5)
  line L13 (60.125, -352.5) -> (-60.125, -352.5)
  circle A0 centre (-60.125, 315) radius 2
  circle A1 centre (-60.125, 285) radius 2
  circle A2 centre (-60.125, 255) radius 2
  circle A3 centre (-60.125, 225) radius 2
  circle A4 centre (-60.125, 195) radius 2
  circle A5 centre (-60.125, 165) radius 2
  circle A6 centre (-60.125, 135) radius 2
  circle A7 centre (-60.125, 105) radius 2
  circle A8 centre (-60.125, 75) radius 2
  circle A9 centre (-60.125, 45) radius 2
  circle A10 centre (-60.125, -325) radius 2
  circle A11 centre (-60.125, -305) radius 2
  circle A12 centre (-60.125, -285) radius 2
  line L14 (0, 362.5) -> (0, -362.5)
  circle A13 centre (60.125, 315) radius 2
  circle A14 centre (60.125, 285) radius 2
  circle A15 centre (60.125, 255) radius 2
  circle A16 centre (60.125, 225) radius 2
  circle A17 centre (60.125, 195) radius 2
  circle A18 centre (60.125, 165) radius 2
  circle A19 centre (60.125, 135) radius 2
  circle A20 centre (60.125, 105) radius 2
  circle A21 centre (60.125, 75) radius 2
  circle A22 centre (60.125, 45) radius 2
  circle A23 centre (60.125, -325) radius 2
  circle A24 centre (60.125, -305) radius 2
  circle A25 centre (60.125, -285) radius 2
  line L15 (-125, 346.075) -> (125, 346.075)
  line L16 (125, 346.075) -> (125, -346.075)
  line L17 (125, -346.075) -> (-125, -346.075)
  line L18 (-125, -346.075) -> (-125, 346.075)
  line L19 (-125, 346.075) -> (125, -346.075) construction
  line L20 (125, 346.075) -> (-125, -346.075) construction
  circle A26 centre (-125, 270) radius 2
  line L21 (175, 345) -> (-174, 345) projected
  circle A27 centre (-125, 234) radius 2
  circle A28 centre (-125, 198) radius 2
  circle A29 centre (-125, 162) radius 2
  circle A30 centre (125, 270) radius 2
  circle A31 centre (125, 234) radius 2
  circle A32 centre (125, 198) radius 2
  circle A33 centre (125, 162) radius 2
  circle A34 centre (-125, 126) radius 2
  circle A35 centre (-125, 90) radius 2
  circle A36 centre (-125, 54) radius 2
  circle A37 centre (-125, 18) radius 2
  circle A38 centre (125, 126) radius 2
  circle A39 centre (125, 90) radius 2
  circle A40 centre (125, 54) radius 2
  circle A41 centre (125, 18) radius 2
  circle A42 centre (-60.125, -295.275) radius 2
  circle A43 centre (60.125, -295.275) radius 2
  point P0 (0, 0)
  dimension "d146" = 100.25
  dimension "d147" = 20
  dimension "d148" = 10
  dimension "d149" = 4
  dimension "d152" = 30
  dimension "d157" = 4
  dimension "d160" = 20
  dimension "d165" = 250
  dimension "d166" = 4
  dimension "d167" = 75
  dimension "d168" = 30
  dimension "d171" = 36
  dimension "d236" = 4
  dimension "d237" = 4
hole "Hole6" at (-60.125, 12, 305) at (60.125, 12, 305) at (-60.125, 12, -135) at (-60.125, 12, -225) at (60.125, 12, -225) at (60.125, 12, -135) at (-125, 12, -234) at (-125, 12, -162) at (125, 12, -162) at (125, 12, -234) at (-60.125, 12, -45) at (60.125, 12, -45) at (-125, 12, -90) at (-125, 12, -18) at (125, 12, -90) at (125, 12, -18) at (-60.125, 12, 295.275) at (60.125, 12, 295.275) direction (0, -1, 0) diameter 4.134 depth 10 tip angle 118 thread size "M5x0.8" class "6H" standard "ANSI Metric M Profile"
sketch "Sketch15" plane through (0, 12, 0) normal (0, 1, 0) x (1, 0, 0)
  line L0 (-38.1, 202.8) -> (38.1, 202.8)
  line L1 (38.1, 202.8) -> (38.1, 25)
  line L2 (38.1, 25) -> (-38.1, 25)
  line L3 (-38.1, 25) -> (-38.1, 202.8)
  line L4 (-38.1, 202.8) -> (38.1, 25) construction
  line L5 (38.1, 202.8) -> (-38.1, 25) construction
  circle A0 centre (0, -140) radius 110 projected
  line L6 (-48.1, 212.8) -> (48.1, 212.8)
  line L7 (48.1, 212.8) -> (48.1, 15)
  line L8 (48.1, 15) -> (-48.1, 15)
  line L9 (-48.1, 15) -> (-48.1, 212.8)
  circle A1 centre (0, 15) radius 2.5
  circle A2 centre (-20, 15) radius 2.5
  circle A3 centre (20, 15) radius 2.5
  circle A4 centre (-40, 15) radius 2.5
  circle A5 centre (40, 15) radius 2.5
  circle A6 centre (-48.1, 23.1) radius 2.5
  line L10 (-48.1, 113.9) -> (48.1, 113.9)
  circle A7 centre (-48.1, 43.1) radius 2.5
  circle A8 centre (-48.1, 63.1) radius 2.5
  circle A9 centre (-48.1, 83.1) radius 2.5
  circle A10 centre (-48.1, 103.1) radius 2.5
  line L11 (0, 15) -> (0, 212.8)
  circle A11 centre (48.1, 23.1) radius 2.5
  circle A12 centre (48.1, 43.1) radius 2.5
  circle A13 centre (48.1, 63.1) radius 2.5
  circle A14 centre (48.1, 83.1) radius 2.5
  circle A15 centre (48.1, 103.1) radius 2.5
  circle A16 centre (0, 212.8) radius 2.5
  circle A17 centre (-20, 212.8) radius 2.5
  circle A18 centre (20, 212.8) radius 2.5
  circle A19 centre (-40, 212.8) radius 2.5
  circle A20 centre (40, 212.8) radius 2.5
  circle A21 centre (-48.1, 204.7) radius 2.5
  circle A22 centre (-48.1, 184.7) radius 2.5
  circle A23 centre (-48.1, 164.7) radius 2.5
  circle A24 centre (-48.1, 144.7) radius 2.5
  circle A25 centre (-48.1, 124.7) radius 2.5
  circle A26 centre (48.1, 204.7) radius 2.5
  circle A27 centre (48.1, 164.7) radius 2.5
  circle A28 centre (48.1, 144.7) radius 2.5
  circle A29 centre (48.1, 184.7) radius 2.5
  circle A30 centre (48.1, 124.7) radius 2.5
  point P0 (0, 0)
  point P1 (0, 113.9)
  point P2 (0, 25)
  dimension "d191" = 76.2
  dimension "d192" = 177.8
  dimension "d193" = 165
  dimension "d197" = 10
  dimension "d198" = 5
  dimension "d201" = 20
  dimension "d206" = 8.1
  dimension "d207" = 5
  dimension "d208" = 8.1
  dimension "d211" = 20
extrude "Extrusion11" cut sketch "Sketch15" against normal blind 21.1125 contours L0 L11 L10 L3 | L0 L1 L10 L11 | L10 L11 L2 L3 | L10 L1 L2 L11
fillet "Fillet3" radius 5 4 edges at (-38.1, 6, -202.8) (38.1, 6, -202.8) (-38.1, 6, -25) (38.1, 6, -25)
hole "Hole7" at (-48.1, 12, -23.1) at (-48.1, 12, -43.1) at (-48.1, 12, -83.1) at (-48.1, 12, -103.1) at (-48.1, 12, -124.7) at (-48.1, 12, -144.7) at (-48.1, 12, -184.7) at (-48.1, 12, -204.7) at (-40, 12, -212.8) at (0, 12, -212.8) at (40, 12, -212.8) at (48.1, 12, -204.7) at (48.1, 12, -184.7) at (48.1, 12, -144.7) at (48.1, 12, -124.7) at (48.1, 12, -103.1) at (48.1, 12, -83.1) at (48.1, 12, -43.1) at (48.1, 12, -23.1) at (40, 12, -15) at (0, 12, -15) at (-40, 12, -15) direction (0, -1, 0) diameter 4.134 depth 10 tip angle 118 thread size "M5x0.8" class "6H" standard "ANSI Metric M Profile"
fillet "Fillet5" radius 5 2 edges at (-180, 3.45, -345) (180, 3.45, 345)
chamfer "Chamfer6" distance 3 angle 45 8 edges at (180, 0, 0) (178.5355, 0, -343.5355) (0, 0, -345) (-178.5355, 0, -343.5355) (-180, 0, 0) (-178.5355, 0, 343.5355) (0, 0, 345) (178.5355, 0, 343.5355)
properties part number "Updated Cover (Vibrometer)"
